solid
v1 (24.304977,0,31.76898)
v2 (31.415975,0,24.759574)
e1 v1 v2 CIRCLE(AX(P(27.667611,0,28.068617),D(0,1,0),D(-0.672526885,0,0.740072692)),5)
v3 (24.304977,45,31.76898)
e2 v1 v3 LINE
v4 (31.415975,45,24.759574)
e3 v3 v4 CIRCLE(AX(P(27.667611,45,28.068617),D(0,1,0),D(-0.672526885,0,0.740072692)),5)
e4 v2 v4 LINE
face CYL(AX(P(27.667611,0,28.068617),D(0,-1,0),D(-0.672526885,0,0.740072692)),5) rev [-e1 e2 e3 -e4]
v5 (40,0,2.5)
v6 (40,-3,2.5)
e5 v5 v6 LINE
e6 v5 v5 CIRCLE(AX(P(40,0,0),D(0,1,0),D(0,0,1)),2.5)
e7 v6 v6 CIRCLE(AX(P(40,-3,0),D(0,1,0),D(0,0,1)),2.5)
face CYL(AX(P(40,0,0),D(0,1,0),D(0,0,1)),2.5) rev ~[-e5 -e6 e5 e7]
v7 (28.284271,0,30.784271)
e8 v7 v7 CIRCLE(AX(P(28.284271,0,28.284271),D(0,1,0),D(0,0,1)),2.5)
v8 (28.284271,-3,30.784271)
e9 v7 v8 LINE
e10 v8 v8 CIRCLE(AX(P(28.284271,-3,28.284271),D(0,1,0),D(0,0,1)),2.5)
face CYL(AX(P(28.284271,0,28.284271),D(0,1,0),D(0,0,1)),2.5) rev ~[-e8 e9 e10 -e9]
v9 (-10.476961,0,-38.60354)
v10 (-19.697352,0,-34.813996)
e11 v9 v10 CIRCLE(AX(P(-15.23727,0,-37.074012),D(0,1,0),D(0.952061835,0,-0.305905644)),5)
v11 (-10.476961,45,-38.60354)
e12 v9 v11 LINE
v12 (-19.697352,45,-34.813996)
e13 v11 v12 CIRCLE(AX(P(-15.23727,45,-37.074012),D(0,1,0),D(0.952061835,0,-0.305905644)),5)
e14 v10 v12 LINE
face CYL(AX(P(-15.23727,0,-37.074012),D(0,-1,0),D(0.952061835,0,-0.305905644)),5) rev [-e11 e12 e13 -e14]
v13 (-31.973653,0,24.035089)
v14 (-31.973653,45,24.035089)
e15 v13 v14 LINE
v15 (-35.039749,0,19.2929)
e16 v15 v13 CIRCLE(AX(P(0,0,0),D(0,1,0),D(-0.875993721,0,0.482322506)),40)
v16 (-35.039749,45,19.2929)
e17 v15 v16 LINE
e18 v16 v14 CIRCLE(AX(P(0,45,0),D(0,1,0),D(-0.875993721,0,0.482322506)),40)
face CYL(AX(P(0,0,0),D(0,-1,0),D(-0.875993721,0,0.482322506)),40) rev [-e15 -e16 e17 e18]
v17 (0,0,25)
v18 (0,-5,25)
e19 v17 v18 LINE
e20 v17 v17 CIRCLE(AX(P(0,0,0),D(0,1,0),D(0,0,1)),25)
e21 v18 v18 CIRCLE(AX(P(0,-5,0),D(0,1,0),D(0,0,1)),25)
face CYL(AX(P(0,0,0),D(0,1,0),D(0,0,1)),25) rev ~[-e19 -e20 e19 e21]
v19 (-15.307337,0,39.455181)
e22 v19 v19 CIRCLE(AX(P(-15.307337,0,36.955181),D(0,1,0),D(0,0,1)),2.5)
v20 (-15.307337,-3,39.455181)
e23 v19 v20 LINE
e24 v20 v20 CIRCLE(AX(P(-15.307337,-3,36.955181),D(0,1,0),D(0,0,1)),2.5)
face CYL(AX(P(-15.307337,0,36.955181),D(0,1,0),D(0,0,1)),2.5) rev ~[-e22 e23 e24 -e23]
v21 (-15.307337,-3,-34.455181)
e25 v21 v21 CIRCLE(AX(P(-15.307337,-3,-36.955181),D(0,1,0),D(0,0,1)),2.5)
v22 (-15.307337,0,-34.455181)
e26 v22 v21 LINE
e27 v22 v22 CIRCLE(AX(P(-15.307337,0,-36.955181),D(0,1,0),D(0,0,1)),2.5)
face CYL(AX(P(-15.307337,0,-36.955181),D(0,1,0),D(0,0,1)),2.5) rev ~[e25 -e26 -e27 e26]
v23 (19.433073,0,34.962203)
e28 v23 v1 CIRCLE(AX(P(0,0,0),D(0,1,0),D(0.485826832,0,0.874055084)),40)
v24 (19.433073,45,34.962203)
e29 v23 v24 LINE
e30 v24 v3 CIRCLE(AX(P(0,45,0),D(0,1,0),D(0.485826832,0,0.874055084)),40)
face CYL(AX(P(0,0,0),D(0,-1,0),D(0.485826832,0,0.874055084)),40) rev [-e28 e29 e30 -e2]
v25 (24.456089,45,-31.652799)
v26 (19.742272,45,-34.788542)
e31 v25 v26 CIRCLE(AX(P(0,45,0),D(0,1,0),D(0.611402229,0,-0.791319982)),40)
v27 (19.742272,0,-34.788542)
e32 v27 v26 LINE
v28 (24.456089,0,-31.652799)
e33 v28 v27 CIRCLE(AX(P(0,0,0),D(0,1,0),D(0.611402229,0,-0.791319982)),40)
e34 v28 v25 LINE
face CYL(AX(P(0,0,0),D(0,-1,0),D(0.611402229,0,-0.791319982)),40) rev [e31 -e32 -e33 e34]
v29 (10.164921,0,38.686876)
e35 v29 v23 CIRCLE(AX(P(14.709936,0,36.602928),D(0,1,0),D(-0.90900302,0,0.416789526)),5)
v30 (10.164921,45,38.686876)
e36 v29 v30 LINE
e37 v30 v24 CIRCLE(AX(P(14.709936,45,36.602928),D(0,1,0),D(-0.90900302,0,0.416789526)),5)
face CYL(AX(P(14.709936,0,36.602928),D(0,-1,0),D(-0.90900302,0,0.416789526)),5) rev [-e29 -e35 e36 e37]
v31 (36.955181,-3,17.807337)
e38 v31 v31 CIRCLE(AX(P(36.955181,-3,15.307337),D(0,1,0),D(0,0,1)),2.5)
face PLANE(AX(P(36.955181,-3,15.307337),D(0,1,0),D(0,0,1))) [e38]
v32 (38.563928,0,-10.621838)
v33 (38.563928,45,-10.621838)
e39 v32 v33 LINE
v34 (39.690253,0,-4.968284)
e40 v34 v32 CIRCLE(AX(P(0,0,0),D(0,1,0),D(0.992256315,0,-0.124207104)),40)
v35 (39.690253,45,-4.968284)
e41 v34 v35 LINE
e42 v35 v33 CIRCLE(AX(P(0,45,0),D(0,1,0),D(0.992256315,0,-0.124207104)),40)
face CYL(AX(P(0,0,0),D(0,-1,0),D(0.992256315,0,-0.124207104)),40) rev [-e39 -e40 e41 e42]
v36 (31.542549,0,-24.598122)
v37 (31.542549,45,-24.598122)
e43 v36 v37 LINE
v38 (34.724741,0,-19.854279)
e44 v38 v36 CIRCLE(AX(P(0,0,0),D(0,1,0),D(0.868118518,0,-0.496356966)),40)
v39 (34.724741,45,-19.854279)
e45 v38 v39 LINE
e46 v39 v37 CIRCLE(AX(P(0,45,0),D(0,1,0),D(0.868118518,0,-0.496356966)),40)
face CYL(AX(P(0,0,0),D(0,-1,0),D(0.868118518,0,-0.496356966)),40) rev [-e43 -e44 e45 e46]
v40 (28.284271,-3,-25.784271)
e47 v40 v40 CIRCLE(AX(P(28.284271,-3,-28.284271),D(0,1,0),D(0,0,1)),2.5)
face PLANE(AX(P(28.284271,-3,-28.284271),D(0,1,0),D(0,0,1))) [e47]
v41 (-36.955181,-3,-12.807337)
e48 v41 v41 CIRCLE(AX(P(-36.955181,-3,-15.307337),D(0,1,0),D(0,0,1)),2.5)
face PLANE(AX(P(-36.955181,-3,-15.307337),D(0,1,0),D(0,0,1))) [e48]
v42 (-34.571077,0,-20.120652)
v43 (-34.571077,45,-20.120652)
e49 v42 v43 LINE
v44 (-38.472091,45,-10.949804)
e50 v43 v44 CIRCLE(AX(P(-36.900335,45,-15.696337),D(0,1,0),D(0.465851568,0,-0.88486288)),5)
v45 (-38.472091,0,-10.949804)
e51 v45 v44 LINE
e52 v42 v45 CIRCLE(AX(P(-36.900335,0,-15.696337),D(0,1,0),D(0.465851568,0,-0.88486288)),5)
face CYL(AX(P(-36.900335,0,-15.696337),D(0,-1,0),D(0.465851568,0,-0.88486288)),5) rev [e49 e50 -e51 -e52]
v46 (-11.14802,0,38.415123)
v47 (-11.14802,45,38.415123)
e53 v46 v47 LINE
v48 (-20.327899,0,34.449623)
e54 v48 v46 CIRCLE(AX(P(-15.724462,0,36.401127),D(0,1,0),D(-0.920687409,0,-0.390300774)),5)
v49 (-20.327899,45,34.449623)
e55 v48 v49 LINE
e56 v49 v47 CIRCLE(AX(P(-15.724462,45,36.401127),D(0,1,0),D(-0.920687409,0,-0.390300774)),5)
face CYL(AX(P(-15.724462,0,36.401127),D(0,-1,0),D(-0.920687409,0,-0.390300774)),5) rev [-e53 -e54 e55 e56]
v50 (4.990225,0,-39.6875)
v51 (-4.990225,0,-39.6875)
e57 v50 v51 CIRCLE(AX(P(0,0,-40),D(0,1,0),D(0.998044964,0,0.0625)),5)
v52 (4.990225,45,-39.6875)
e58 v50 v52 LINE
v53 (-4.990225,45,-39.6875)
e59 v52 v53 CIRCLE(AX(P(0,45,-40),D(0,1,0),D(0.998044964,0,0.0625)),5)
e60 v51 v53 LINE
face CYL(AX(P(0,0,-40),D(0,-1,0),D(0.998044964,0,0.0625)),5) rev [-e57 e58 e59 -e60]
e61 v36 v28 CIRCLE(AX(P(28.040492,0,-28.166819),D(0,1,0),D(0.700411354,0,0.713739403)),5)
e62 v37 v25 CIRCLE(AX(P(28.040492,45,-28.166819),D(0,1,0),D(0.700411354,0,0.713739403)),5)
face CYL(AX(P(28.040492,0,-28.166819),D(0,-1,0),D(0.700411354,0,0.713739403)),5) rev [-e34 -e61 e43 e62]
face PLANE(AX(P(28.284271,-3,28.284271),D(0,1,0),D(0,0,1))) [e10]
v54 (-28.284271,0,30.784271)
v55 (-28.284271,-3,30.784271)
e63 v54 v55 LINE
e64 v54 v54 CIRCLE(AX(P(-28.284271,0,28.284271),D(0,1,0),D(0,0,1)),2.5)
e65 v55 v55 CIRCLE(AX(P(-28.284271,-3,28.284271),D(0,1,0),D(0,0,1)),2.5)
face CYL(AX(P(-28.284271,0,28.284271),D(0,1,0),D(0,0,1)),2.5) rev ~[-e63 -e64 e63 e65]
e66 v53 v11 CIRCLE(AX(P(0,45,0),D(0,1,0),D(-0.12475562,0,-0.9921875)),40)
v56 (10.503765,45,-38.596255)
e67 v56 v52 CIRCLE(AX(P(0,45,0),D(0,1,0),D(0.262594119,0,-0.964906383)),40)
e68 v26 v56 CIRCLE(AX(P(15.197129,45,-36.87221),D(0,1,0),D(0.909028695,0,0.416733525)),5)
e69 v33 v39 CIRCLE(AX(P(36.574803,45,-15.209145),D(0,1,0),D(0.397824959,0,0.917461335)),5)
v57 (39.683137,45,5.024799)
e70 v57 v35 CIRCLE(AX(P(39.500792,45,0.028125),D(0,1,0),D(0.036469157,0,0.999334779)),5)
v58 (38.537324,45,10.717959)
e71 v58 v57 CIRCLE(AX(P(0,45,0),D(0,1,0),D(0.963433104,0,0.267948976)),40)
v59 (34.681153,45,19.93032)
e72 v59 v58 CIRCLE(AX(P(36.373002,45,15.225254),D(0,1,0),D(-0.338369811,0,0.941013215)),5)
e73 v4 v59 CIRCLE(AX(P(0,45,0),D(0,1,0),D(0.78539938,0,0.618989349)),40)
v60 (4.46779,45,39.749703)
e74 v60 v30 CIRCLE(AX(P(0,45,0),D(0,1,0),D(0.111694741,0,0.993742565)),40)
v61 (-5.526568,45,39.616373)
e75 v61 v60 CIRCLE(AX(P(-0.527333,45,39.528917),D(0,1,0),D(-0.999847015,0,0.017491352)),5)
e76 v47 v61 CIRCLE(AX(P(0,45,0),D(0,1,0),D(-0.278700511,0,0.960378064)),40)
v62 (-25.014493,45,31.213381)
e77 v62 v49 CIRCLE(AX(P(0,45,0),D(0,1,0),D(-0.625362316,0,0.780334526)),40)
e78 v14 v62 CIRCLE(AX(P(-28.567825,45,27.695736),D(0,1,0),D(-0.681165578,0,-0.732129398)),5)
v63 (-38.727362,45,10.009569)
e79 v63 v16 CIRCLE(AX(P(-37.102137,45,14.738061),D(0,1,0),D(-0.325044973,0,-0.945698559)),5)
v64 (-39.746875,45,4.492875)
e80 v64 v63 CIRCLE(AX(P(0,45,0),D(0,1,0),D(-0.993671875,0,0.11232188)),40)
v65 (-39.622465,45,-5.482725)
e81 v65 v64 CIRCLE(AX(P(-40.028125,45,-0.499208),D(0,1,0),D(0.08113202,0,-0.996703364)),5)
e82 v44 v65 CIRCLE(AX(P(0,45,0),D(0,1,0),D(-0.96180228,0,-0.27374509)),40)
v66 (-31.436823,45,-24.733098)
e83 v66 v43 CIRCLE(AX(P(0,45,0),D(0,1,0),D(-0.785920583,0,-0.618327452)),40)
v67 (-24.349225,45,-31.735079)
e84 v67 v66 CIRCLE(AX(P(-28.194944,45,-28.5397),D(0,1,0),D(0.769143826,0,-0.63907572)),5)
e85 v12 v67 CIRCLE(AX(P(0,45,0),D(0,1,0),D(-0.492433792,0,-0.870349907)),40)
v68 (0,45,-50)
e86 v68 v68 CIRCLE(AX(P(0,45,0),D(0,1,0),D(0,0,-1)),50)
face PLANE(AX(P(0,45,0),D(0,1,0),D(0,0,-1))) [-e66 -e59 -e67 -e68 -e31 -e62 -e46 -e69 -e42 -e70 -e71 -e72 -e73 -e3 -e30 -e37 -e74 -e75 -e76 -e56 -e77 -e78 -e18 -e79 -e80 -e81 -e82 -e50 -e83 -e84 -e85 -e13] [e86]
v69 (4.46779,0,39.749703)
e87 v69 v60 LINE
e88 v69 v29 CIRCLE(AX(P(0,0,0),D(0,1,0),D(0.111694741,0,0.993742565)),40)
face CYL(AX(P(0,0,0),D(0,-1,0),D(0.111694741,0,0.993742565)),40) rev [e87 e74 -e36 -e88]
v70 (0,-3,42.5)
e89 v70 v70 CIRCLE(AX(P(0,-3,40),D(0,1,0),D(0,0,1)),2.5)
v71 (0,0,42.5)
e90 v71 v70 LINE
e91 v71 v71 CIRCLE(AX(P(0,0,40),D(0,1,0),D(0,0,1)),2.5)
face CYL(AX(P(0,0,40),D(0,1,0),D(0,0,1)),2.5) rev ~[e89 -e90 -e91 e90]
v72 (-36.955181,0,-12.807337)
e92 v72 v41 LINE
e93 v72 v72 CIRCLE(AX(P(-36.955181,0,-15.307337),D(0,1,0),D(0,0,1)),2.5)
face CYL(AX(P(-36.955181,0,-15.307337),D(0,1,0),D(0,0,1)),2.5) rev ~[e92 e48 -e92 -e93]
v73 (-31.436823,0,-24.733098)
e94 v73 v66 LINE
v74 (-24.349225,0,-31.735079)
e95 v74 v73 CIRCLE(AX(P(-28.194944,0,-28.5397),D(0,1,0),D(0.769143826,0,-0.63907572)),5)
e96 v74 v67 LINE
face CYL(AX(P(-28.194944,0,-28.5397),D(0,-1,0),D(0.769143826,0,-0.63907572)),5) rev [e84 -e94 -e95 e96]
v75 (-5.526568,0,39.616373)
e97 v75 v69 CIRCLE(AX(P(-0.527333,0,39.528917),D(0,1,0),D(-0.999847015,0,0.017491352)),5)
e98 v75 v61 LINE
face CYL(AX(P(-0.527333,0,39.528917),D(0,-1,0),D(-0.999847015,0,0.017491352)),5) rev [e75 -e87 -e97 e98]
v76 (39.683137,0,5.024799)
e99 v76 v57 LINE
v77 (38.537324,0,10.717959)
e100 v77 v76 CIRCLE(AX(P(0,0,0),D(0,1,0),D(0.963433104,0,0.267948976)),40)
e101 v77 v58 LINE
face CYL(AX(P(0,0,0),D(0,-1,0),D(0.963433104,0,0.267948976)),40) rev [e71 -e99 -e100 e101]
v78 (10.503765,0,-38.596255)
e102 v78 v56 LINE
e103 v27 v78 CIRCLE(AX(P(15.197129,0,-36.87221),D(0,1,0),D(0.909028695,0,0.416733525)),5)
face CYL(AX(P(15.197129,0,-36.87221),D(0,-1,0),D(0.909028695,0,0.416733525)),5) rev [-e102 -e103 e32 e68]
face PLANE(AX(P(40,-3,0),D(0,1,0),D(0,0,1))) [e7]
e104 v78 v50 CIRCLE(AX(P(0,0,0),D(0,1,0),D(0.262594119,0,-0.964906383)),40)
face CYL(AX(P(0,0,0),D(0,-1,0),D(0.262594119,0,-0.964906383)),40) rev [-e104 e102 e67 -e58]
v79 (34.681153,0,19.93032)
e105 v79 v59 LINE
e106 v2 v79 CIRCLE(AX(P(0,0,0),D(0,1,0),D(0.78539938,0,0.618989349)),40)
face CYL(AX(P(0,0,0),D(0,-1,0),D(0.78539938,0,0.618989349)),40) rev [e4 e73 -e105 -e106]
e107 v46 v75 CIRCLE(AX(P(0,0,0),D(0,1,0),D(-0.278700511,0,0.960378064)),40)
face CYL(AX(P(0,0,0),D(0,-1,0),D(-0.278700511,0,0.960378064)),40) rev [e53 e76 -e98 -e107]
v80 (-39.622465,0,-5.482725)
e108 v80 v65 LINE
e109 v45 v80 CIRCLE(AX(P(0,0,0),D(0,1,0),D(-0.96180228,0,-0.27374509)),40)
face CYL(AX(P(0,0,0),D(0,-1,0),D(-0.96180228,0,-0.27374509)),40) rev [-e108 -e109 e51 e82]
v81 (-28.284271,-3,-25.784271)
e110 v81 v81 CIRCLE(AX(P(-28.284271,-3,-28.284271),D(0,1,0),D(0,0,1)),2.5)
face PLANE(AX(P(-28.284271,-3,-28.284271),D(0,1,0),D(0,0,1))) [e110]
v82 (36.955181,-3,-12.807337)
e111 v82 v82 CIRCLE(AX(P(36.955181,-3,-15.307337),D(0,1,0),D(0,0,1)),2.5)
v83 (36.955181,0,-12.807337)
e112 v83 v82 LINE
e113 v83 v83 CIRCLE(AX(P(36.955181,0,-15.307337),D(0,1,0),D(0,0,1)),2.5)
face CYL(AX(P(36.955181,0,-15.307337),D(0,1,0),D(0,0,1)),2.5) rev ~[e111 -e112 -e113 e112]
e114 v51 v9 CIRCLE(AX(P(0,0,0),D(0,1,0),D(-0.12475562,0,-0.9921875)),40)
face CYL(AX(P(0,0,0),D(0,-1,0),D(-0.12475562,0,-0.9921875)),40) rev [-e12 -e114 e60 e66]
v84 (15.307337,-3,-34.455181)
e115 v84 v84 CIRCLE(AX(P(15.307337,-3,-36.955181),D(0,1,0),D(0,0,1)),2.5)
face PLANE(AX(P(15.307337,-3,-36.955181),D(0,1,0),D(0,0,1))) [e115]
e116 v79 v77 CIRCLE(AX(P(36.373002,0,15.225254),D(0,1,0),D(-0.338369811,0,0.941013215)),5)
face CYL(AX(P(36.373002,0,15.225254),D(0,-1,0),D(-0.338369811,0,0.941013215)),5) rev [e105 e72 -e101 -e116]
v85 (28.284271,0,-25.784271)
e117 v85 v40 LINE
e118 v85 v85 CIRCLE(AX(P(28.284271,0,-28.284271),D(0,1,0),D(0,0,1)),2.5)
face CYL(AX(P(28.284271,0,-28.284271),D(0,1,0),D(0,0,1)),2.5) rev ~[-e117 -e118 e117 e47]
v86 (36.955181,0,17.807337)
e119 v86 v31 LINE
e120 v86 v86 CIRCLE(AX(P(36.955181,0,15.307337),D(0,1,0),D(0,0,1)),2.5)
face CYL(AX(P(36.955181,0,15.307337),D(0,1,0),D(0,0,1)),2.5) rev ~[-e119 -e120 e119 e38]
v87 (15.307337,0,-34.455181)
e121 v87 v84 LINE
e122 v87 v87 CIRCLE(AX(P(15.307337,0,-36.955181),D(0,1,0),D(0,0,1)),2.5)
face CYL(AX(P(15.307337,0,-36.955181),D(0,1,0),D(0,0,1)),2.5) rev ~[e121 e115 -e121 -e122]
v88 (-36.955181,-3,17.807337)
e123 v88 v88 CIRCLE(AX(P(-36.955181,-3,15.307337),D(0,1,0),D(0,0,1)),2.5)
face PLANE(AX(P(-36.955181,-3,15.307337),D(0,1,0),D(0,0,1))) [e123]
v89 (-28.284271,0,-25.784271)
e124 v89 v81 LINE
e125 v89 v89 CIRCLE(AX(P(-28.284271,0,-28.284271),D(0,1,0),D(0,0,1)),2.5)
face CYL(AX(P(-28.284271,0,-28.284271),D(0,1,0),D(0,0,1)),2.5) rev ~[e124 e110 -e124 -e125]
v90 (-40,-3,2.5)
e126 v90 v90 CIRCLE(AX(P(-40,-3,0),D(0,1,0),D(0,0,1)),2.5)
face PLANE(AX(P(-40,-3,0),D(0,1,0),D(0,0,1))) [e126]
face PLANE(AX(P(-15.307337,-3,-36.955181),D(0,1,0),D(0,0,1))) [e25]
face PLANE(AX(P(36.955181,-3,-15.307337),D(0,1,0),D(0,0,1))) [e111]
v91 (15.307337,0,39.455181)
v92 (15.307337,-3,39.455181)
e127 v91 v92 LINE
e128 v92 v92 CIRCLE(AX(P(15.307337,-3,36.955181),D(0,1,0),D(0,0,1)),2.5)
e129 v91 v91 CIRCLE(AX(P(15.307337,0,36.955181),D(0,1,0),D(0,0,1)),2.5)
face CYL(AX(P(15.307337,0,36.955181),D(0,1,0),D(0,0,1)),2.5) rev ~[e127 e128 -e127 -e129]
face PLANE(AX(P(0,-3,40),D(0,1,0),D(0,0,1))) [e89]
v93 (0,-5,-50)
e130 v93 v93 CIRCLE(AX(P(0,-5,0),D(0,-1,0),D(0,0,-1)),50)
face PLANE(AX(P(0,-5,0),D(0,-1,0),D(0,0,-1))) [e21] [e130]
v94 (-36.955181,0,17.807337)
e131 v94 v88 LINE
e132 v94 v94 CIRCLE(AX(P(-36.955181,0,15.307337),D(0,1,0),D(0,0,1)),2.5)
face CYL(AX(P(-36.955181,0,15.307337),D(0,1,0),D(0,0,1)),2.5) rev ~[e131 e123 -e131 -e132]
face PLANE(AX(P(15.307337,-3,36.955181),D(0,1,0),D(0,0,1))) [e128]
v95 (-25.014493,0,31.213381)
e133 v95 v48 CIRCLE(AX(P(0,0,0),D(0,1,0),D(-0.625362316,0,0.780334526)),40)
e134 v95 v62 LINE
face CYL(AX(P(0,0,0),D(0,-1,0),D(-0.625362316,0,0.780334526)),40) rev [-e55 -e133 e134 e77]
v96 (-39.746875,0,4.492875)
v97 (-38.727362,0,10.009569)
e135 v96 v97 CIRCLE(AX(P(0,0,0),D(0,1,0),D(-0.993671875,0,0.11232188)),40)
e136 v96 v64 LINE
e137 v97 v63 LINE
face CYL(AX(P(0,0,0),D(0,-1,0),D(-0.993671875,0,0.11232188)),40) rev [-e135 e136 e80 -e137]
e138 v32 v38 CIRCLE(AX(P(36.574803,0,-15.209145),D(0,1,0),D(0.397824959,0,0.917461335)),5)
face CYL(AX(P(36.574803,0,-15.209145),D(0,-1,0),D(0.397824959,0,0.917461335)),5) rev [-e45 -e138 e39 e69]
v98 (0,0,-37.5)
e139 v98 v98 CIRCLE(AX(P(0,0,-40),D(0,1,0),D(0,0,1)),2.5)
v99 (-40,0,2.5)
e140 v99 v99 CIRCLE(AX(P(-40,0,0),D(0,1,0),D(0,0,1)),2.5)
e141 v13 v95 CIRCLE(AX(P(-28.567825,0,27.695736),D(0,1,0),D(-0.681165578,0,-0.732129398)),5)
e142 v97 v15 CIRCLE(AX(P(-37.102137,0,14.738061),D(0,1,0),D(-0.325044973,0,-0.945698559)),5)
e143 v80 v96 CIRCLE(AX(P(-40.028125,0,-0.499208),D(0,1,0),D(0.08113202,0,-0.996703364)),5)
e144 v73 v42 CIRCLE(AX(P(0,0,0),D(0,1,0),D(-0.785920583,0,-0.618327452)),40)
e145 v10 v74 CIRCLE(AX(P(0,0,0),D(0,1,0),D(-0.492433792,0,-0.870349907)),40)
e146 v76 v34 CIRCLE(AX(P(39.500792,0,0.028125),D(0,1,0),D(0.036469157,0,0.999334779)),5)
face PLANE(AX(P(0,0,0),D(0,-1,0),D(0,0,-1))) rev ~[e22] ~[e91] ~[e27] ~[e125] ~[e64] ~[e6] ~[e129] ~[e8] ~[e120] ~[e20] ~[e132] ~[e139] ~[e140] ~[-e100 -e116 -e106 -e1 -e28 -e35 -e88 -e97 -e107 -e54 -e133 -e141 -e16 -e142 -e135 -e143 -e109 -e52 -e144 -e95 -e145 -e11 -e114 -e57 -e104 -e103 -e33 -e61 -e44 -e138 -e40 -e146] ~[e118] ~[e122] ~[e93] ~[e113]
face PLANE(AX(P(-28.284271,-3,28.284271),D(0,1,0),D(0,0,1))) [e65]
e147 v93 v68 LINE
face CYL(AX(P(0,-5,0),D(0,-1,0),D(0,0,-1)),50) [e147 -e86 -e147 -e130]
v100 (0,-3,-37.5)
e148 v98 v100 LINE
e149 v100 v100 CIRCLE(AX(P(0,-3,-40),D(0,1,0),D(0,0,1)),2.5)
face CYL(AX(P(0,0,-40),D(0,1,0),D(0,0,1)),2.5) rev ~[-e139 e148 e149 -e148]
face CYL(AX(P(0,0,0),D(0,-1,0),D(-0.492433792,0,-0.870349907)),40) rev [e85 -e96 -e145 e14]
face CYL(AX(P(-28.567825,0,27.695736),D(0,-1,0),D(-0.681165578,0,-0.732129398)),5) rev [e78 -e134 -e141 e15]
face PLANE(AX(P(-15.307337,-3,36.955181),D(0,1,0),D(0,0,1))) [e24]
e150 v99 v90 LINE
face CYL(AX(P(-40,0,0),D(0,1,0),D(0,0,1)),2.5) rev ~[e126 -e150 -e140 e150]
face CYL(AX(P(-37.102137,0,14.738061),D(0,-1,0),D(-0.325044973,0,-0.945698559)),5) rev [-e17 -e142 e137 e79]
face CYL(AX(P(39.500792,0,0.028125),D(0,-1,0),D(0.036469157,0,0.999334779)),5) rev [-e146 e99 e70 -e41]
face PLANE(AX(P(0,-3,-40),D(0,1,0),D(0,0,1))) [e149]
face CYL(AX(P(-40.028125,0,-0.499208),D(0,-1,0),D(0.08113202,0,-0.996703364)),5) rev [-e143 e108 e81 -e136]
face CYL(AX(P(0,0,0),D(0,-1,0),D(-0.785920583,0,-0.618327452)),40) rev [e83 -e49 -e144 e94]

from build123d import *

# Parameters (mm, degrees)
SKETCH1_R           = 50
BOSS_EXTRUDE1_DEPTH = 45
BOSS_EXTRUDE2_START = 5
SKETCH2_R           = 50
BOSS_EXTRUDE2_DEPTH = 5
SKETCH3_R           = 2.5
CUT_EXTRUDE1_DEPTH  = 3
SKETCH4_R           = 25
CUT_EXTRUDE2_DEPTH  = 10


with BuildPart() as part:
    # Sketch1 → Boss-Extrude1 (new body)
    with BuildSketch(Plane(origin=(0, 0, 0), x_dir=(1, 0, 0), z_dir=(0, 1, 0))):
        with Locations(Location((0, 0, 0), (0, 0, 90))):
            Circle(SKETCH1_R)
        with BuildLine():
            ThreePointArc((-38.472091197, 10.949803601), (-39.142843019, 8.236373014), (-39.622464899, 5.482725176))
            ThreePointArc((-39.622464899, 5.482725176), (-45.027736203, 0.561560709), (-39.746875, -4.492875219))
            ThreePointArc((-39.746875, -4.492875219), (-39.333953887, -7.269117664), (-38.72736158, -10.009568673))
            ThreePointArc((-38.72736158, -10.009568673), (-41.748946282, -16.583911093), (-35.039748856, -19.292900251))
            ThreePointArc((-35.039748856, -19.292900251), (-33.590491244, -21.718169766), (-31.973653194, -24.035088963))
            ThreePointArc((-31.973653194, -24.035088963), (-32.157729031, -31.176050772), (-25.014492656, -31.213381059))
            ThreePointArc((-25.014492656, -31.213381059), (-22.728868069, -32.915020223), (-20.32789937, -34.449622744))
            ThreePointArc((-20.32789937, -34.449622744), (-17.707258167, -40.991172437), (-11.148020432, -38.415122549))
            ThreePointArc((-11.148020432, -38.415122549), (-8.358901204, -39.11686044), (-5.526568431, -39.6163734))
            ThreePointArc((-5.526568431, -39.6163734), (-0.59402965, -44.528471783), (4.46778962, -39.749702589))
            ThreePointArc((4.46778962, -39.749702589), (7.33562934, -39.321604013), (10.164921368, -38.686875986))
            ThreePointArc((10.164921368, -38.686875986), (16.574401115, -41.242300251), (19.433073291, -34.962203341))
            ThreePointArc((19.433073291, -34.962203341), (21.927230073, -33.454395546), (24.304976528, -31.768980405))
            ThreePointArc((24.304976528, -31.768980405), (31.177616874, -31.629495833), (31.415975195, -24.759573957))
            ThreePointArc((31.415975195, -24.759573957), (33.136656406, -22.404508524), (34.681152562, -19.930320042))
            ThreePointArc((34.681152562, -19.930320042), (40.985236081, -17.155873875), (38.537324177, -10.717959006))
            ThreePointArc((38.537324177, -10.717959006), (39.213686022, -7.892200491), (39.683137427, -5.024798895))
            ThreePointArc((39.683137427, -5.024798895), (44.500790375, -0.031685054), (39.690252613, 4.968284165))
            ThreePointArc((39.690252613, 4.968284165), (39.229069194, 7.815377799), (38.563928149, 10.62183815))
            ThreePointArc((38.563928149, 10.62183815), (41.191547229, 17.128956276), (34.724740733, 19.854278657))
            ThreePointArc((34.724740733, 19.854278657), (33.21843503, 22.283078202), (31.542548716, 24.598122296))
            ThreePointArc((31.542548716, 24.598122296), (31.568070741, 31.71029047), (24.456089141, 31.652799306))
            ThreePointArc((24.456089141, 31.652799306), (22.154728904, 33.304173721), (19.742272443, 34.788542349))
            ThreePointArc((19.742272443, 34.788542349), (17.102427339, 41.494962196), (10.503764758, 38.596255335))
            ThreePointArc((10.503764758, 38.596255335), (7.766185163, 39.238837496), (4.99022482, 39.6875))
            ThreePointArc((4.99022482, 39.6875), (0, 45), (-4.99022482, 39.6875))
            ThreePointArc((-4.99022482, 39.6875), (-7.752560801, 39.241531584), (-10.476960655, 38.603539934))
            ThreePointArc((-10.476960655, 38.603539934), (-17.137978748, 41.698652845), (-19.697351689, 34.813996272))
            ThreePointArc((-19.697351689, 34.813996272), (-22.077028029, 33.355731643), (-24.349225183, 31.735078903))
            ThreePointArc((-24.349225183, 31.735078903), (-31.708929174, 32.096652706), (-31.436823309, 24.733098071))
            ThreePointArc((-31.436823309, 24.733098071), (-33.084428294, 22.481561432), (-34.571077134, 20.120651724))
            ThreePointArc((-34.571077134, 20.120651724), (-41.501374638, 17.653486782), (-38.472091197, 10.949803601))
        make_face(mode=Mode.SUBTRACT)
    extrude(amount=BOSS_EXTRUDE1_DEPTH)

    # Sketch2 → Boss-Extrude2 (add)
    with BuildSketch(Plane.XZ.offset(BOSS_EXTRUDE2_START)):
        with Locations(Location((0, 0, 0), (0, 0, 270))):
            Circle(SKETCH2_R)
    extrude(amount=-BOSS_EXTRUDE2_DEPTH)

    # Sketch3 → Cut-Extrude1 (cut)
    with BuildSketch(Plane(origin=(0, 0, 0), x_dir=(1, 0, 0), z_dir=(0, 1, 0))):
        with Locations(Location((0, 40, 0), (0, 0, 270))):
            Circle(SKETCH3_R)
        with Locations(Location((15.307337295, 36.9551813, 0), (0, 0, 270))):
            Circle(SKETCH3_R)
        with Locations(Location((28.284271247, 28.284271247, 0), (0, 0, 270))):
            Circle(SKETCH3_R)
        with Locations(Location((36.9551813, 15.307337295, 0), (0, 0, 270))):
            Circle(SKETCH3_R)
        with Locations(Location((40, 0, 0), (0, 0, 270))):
            Circle(SKETCH3_R)
        with Locations(Location((36.9551813, -15.307337295, 0), (0, 0, 270))):
            Circle(SKETCH3_R)
        with Locations(Location((28.284271247, -28.284271247, 0), (0, 0, 270))):
            Circle(SKETCH3_R)
        with Locations(Location((15.307337295, -36.9551813, 0), (0, 0, 270))):
            Circle(SKETCH3_R)
        with Locations(Location((0, -40, 0), (0, 0, 270))):
            Circle(SKETCH3_R)
        with Locations(Location((-15.307337295, -36.9551813, 0), (0, 0, 270))):
            Circle(SKETCH3_R)
        with Locations(Location((-28.284271247, -28.284271247, 0), (0, 0, 270))):
            Circle(SKETCH3_R)
        with Locations(Location((-36.9551813, -15.307337295, 0), (0, 0, 270))):
            Circle(SKETCH3_R)
        with Locations(Location((-40, 0, 0), (0, 0, 270))):
            Circle(SKETCH3_R)
        with Locations(Location((-36.9551813, 15.307337295, 0), (0, 0, 270))):
            Circle(SKETCH3_R)
        with Locations(Location((-28.284271247, 28.284271247, 0), (0, 0, 270))):
            Circle(SKETCH3_R)
        with Locations(Location((-15.307337295, 36.9551813, 0), (0, 0, 270))):
            Circle(SKETCH3_R)
    extrude(amount=-CUT_EXTRUDE1_DEPTH, mode=Mode.SUBTRACT)

    # Sketch4 → Cut-Extrude2 (cut)
    with BuildSketch(Plane(origin=(0, 0, 0), x_dir=(1, 0, 0), z_dir=(0, 1, 0))):
        with Locations(Location((0, 0, 0), (0, 0, 270))):
            Circle(SKETCH4_R)
    extrude(amount=-CUT_EXTRUDE2_DEPTH, mode=Mode.SUBTRACT)


solid = part.part
